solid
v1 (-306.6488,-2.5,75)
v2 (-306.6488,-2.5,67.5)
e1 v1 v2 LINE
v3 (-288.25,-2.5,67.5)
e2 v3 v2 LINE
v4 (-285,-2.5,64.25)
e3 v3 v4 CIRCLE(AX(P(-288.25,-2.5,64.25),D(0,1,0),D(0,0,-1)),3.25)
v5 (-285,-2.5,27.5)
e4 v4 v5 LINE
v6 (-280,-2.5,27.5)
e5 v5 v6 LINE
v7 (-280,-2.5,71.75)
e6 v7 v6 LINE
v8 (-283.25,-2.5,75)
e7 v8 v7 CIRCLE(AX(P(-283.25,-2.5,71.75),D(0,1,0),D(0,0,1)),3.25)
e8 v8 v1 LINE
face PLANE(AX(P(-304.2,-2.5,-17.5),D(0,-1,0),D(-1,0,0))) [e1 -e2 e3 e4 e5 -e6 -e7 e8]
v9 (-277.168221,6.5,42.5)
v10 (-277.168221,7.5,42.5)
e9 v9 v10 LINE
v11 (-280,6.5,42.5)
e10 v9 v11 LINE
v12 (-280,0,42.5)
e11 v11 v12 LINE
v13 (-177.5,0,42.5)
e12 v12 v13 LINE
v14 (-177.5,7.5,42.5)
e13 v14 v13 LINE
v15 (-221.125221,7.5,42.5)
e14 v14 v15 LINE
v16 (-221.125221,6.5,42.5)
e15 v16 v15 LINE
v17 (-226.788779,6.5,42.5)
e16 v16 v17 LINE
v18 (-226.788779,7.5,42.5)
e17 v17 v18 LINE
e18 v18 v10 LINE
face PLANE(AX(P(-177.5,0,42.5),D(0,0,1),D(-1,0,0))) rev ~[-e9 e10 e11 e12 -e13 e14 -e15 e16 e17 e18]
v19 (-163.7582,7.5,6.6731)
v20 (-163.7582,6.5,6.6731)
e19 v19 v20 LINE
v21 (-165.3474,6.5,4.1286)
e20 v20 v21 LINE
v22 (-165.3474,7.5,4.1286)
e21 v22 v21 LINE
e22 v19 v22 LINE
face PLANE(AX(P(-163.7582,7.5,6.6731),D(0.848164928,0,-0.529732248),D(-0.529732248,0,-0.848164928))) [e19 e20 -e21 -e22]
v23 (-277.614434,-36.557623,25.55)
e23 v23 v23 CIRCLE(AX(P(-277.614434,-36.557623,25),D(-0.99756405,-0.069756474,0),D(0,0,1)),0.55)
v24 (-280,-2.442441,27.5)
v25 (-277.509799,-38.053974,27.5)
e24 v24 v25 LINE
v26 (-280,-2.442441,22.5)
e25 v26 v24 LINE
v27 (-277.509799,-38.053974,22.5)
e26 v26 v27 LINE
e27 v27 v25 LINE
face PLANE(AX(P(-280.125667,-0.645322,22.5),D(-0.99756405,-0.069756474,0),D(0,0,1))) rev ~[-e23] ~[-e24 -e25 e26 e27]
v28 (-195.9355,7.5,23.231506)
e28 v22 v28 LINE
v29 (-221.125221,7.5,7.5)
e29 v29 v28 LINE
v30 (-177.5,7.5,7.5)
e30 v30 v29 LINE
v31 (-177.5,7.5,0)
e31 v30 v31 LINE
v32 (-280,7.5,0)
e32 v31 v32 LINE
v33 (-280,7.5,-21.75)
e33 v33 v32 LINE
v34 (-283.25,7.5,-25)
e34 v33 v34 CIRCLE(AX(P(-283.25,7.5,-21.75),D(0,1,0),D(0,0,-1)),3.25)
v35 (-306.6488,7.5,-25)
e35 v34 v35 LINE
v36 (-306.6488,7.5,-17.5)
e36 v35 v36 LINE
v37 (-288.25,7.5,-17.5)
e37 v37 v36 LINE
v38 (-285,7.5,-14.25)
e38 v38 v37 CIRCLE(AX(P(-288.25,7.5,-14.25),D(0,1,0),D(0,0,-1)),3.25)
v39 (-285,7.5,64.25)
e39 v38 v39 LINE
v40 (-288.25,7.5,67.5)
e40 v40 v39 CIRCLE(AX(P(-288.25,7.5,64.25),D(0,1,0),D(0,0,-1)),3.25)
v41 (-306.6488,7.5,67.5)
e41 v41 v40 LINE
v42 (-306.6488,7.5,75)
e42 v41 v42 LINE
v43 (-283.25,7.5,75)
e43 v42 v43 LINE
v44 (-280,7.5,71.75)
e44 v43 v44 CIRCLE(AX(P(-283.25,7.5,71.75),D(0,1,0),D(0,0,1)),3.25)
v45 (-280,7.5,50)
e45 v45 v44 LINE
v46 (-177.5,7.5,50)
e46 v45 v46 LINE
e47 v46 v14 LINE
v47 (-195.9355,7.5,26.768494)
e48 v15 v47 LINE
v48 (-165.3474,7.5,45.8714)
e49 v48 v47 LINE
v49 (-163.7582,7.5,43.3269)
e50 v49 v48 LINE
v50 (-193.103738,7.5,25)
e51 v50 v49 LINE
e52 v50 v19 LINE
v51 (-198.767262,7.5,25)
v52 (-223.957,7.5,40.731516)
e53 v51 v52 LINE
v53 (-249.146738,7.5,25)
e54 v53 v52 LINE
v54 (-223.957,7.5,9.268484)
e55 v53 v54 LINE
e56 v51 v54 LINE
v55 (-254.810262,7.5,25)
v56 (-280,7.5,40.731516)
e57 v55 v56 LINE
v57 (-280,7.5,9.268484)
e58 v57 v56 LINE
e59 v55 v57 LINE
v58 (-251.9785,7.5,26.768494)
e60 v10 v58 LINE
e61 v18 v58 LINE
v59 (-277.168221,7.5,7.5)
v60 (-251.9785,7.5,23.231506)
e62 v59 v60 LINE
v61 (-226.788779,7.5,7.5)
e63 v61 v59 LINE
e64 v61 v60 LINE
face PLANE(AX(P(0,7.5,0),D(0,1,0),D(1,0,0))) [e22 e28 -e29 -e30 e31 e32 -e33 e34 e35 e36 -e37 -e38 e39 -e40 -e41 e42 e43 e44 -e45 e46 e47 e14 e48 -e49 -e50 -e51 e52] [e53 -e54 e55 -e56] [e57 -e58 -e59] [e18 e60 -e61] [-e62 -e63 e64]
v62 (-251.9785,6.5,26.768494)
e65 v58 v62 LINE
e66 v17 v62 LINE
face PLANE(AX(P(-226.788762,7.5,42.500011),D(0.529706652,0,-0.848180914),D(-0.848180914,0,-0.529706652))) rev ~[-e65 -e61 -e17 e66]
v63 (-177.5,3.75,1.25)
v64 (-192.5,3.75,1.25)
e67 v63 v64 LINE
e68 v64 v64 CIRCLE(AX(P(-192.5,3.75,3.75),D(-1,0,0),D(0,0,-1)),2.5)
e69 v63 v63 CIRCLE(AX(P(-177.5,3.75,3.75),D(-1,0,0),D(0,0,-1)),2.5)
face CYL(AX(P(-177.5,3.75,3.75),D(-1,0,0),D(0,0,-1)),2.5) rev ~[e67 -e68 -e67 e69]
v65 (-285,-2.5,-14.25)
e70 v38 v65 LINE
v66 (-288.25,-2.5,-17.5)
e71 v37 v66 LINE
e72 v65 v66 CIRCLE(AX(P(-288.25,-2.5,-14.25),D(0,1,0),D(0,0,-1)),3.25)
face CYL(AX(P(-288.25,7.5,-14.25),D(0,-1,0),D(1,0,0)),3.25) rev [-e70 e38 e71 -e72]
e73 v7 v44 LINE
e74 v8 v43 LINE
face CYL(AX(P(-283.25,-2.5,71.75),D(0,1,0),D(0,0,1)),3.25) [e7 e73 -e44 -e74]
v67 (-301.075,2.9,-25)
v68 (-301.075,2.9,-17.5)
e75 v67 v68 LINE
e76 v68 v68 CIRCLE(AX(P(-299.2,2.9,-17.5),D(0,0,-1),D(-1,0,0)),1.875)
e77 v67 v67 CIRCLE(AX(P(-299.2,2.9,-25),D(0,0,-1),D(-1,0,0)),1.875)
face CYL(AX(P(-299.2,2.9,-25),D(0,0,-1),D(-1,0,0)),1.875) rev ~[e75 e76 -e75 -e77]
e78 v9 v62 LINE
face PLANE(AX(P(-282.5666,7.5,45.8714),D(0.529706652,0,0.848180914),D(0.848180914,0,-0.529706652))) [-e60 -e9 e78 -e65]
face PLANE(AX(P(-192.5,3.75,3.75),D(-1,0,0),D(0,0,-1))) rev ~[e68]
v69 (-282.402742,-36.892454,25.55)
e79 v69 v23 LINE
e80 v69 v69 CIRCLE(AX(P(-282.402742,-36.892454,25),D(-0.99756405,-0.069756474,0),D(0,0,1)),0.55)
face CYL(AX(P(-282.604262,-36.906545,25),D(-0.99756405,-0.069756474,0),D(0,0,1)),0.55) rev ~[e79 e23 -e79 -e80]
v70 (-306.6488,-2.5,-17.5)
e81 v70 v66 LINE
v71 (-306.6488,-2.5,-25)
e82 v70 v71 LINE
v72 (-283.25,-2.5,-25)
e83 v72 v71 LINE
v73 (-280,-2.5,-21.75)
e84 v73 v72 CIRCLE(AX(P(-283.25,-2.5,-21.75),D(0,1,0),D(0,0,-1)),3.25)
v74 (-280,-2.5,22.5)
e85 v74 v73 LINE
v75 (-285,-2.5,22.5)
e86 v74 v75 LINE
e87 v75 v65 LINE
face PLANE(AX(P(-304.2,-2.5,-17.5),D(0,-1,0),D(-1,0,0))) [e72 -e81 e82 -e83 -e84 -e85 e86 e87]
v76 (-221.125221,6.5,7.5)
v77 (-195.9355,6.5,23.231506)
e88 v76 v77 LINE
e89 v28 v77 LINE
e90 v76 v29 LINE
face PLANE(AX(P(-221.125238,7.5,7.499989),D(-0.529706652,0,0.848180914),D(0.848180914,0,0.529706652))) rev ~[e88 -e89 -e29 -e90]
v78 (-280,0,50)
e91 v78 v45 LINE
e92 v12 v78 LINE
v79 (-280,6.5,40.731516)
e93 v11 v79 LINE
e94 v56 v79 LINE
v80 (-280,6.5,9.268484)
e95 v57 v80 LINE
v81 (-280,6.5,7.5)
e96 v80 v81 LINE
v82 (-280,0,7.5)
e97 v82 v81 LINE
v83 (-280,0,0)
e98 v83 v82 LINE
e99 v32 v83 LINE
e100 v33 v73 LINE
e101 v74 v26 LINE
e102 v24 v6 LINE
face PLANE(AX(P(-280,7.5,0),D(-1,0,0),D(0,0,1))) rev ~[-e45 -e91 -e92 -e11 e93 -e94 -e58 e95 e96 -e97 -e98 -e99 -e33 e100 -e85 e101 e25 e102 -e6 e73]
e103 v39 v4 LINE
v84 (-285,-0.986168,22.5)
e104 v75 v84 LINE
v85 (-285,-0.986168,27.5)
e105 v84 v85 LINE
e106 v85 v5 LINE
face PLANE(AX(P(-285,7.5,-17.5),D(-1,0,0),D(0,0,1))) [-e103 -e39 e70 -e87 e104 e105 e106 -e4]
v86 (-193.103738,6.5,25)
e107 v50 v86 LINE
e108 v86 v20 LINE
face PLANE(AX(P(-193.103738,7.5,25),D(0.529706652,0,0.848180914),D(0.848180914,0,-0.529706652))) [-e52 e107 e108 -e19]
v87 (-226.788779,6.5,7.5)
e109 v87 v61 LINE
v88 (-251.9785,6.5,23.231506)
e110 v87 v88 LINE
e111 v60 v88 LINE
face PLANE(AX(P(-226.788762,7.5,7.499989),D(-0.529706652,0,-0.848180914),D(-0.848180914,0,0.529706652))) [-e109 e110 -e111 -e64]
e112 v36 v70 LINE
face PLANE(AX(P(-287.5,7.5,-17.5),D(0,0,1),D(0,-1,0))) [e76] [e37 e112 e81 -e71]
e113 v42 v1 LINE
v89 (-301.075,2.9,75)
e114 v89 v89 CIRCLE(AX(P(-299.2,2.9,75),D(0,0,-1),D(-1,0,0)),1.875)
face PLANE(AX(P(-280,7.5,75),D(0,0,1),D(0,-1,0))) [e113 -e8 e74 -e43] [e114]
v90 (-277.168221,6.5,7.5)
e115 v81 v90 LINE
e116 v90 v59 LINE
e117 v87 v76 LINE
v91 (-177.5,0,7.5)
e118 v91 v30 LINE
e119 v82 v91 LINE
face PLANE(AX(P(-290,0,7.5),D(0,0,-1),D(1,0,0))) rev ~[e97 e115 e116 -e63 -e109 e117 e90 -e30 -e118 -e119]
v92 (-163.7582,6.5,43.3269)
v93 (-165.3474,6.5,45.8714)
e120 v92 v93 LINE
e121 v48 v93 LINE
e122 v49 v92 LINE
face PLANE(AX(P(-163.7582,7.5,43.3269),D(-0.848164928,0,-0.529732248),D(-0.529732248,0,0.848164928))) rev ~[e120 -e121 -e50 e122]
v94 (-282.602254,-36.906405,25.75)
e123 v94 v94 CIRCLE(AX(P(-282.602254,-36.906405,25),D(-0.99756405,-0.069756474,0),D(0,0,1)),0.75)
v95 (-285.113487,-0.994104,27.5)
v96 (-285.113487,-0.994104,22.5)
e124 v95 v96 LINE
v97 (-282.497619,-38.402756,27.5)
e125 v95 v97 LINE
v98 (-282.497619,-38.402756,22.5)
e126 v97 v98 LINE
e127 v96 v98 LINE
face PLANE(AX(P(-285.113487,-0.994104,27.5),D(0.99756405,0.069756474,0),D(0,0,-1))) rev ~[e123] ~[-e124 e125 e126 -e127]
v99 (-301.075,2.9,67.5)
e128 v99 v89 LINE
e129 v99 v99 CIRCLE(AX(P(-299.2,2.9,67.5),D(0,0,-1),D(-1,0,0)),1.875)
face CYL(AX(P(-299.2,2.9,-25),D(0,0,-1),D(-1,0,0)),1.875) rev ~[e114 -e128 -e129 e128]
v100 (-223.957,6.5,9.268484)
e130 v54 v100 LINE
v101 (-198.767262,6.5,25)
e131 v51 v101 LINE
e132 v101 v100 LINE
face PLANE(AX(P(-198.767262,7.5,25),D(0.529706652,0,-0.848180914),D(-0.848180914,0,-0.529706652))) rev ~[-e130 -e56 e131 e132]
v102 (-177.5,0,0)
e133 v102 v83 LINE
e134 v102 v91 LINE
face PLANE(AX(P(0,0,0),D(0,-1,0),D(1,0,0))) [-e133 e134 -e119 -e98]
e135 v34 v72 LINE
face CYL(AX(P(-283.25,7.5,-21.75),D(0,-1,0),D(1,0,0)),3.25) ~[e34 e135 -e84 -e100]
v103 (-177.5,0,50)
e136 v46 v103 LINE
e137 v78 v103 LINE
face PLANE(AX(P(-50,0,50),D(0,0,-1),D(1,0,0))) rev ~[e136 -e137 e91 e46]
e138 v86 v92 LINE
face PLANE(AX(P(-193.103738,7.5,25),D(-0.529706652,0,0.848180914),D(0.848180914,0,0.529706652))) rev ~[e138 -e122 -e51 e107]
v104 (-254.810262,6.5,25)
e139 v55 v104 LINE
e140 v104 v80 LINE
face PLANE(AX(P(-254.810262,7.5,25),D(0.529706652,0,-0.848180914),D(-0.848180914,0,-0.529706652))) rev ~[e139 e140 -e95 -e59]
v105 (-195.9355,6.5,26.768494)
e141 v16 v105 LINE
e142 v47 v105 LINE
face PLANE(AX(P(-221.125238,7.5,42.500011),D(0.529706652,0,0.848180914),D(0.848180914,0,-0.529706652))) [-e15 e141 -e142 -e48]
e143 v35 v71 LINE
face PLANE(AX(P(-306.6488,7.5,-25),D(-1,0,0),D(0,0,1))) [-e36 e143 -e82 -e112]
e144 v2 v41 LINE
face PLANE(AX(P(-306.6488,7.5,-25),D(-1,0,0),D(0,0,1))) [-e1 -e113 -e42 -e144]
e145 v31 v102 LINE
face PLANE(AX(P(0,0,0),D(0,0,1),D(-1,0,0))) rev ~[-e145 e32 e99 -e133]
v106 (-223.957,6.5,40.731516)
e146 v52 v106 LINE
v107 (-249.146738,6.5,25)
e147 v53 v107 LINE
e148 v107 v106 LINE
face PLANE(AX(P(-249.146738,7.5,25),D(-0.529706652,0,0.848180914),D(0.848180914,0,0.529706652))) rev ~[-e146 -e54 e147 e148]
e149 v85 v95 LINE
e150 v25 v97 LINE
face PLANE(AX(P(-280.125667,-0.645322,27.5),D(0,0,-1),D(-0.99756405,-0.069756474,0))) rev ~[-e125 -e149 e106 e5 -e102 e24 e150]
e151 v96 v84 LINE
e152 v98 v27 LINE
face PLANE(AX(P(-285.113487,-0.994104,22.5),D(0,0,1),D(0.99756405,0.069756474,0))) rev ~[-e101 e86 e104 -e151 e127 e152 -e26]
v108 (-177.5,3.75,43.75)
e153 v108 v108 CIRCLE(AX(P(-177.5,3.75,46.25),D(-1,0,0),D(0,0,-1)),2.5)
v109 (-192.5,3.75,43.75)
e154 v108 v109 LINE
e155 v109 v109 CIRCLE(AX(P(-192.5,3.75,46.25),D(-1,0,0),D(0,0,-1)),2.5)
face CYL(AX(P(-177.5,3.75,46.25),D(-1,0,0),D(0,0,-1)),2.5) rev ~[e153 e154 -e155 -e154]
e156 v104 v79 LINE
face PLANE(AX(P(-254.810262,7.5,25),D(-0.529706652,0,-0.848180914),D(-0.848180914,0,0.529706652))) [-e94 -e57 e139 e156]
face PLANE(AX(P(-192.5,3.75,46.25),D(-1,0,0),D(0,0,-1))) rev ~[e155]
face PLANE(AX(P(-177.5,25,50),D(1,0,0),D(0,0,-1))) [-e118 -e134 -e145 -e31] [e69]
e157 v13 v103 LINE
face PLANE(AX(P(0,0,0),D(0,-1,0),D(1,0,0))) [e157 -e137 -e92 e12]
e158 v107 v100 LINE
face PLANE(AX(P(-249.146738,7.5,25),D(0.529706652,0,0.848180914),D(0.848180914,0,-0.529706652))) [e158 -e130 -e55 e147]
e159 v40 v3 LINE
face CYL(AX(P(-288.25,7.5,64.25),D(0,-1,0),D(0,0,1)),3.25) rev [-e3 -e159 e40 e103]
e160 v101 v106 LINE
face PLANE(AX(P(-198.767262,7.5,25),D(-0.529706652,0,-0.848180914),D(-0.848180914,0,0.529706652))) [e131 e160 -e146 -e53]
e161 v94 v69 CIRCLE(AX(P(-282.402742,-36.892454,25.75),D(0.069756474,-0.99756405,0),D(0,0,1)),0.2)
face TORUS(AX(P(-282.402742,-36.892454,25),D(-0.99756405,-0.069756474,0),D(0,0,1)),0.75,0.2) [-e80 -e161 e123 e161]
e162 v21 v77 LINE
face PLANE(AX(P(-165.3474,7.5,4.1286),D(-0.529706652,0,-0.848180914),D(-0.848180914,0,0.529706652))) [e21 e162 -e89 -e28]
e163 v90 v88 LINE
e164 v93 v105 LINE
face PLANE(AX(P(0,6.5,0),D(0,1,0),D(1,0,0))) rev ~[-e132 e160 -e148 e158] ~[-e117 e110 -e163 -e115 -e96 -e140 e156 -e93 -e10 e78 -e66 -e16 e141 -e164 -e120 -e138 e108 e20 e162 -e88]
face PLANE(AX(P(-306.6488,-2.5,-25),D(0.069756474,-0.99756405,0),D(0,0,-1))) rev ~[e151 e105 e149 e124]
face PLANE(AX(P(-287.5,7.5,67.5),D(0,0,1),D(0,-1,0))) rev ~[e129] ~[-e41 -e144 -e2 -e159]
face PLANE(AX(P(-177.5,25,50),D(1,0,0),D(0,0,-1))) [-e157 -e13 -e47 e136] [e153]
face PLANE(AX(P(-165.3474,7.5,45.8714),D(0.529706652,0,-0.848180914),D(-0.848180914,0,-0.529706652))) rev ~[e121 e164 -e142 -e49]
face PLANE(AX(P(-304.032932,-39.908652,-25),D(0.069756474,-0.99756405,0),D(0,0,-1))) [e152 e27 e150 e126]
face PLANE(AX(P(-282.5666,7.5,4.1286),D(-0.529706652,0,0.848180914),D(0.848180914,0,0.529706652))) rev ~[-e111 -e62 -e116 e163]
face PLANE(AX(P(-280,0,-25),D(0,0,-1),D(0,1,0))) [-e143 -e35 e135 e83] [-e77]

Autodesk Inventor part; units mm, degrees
ref_plane "YZ Plane" through (0, 0, 0) normal (1, 0, 0) x (0, 1, 0)
ref_plane "XZ Plane" through (0, 0, 0) normal (0, 1, 0) x (-1, 0, 0)
ref_plane "XY Plane" through (0, 0, 0) normal (0, 0, 1) x (1, 0, 0)
sketch "Sketch1" plane through (0, 0, 0) normal (0, 1, 0) x (-1, 0, 0)
  line L0 (0, 0) -> (50, 0)
  line L1 (50, 0) -> (50, 50)
  line L2 (50, 50) -> (0, 50)
  line L3 (0, 50) -> (0, 0)
  line L4 (50, 50) -> (290, 50)
  line L5 (290, 50) -> (290, 42.5)
  line L6 (290, 42.5) -> (50, 42.5)
  line L7 (50, 42.5) -> (50, 50)
  line L8 (50, 0) -> (290, 0)
  line L9 (290, 0) -> (290, 7.5)
  line L10 (290, 7.5) -> (50, 7.5)
  line L11 (50, 7.5) -> (50, 0)
  dimension "d0" = 50
  dimension "d1" = 50
  dimension "d2" = 240
  dimension "d3" = 7.5
  dimension "d4" = 7.5
extrude "Extrusion1" add sketch "Sketch1" along normal blind 7.5
sketch "Sketch2" plane through (0, 7.5, 0) normal (0, 1, 0) x (1, 0, 0)
  line L0 (0, -50) -> (0, 0) projected
  point P0 (0, -25)
hole "Hole1" at (0, 7.5, 25) direction (0, -1, 0) diameter 6.35 end through all
sketch "Sketch3" plane through (0, 7.5, 0) normal (0, 1, 0) x (1, 0, 0)
  line L0 (-3.175, -50) -> (-3.175, 0) construction
  line L1 (-3.175, -50) -> (-28.175, -50) construction
  line L2 (-28.175, -50) -> (-28.175, 0) construction
  line L3 (-28.175, 0) -> (-3.175, 0) construction
  point P0 (0, 0)
  point P1 (-7.175, -4)
  point P2 (-24.175, -46)
  dimension "d14" = 25
hole "Hole2" at (-7.175, 7.5, 4) at (-24.175, 7.5, 46) direction (0, -1, 0) diameter 3.3 end through all
sketch "Sketch4" plane through (0, 7.5, 0) normal (0, 1, 0) x (1, 0, 0)
  arc A0 (0, -21.825) -> (0, -28.175) centre (0, -25) ccw construction
  line L0 (-3.175, -25) -> (-28.175, -25) construction
  line L1 (-3.175, -25) -> (21.825, -25) construction
  line L2 (-290, -50) -> (0, -50) construction
  line L3 (-28.175, -50) -> (-28.175, 0) construction
  line L4 (-50, -7.5) -> (-50, -42.5) construction
  line L5 (-50, -42.5) -> (-45, -42.5) construction
  line L6 (-45, -42.5) -> (-45, -32.5) construction
  line L7 (-45, -32.5) -> (-50, -32.5) construction
  line L8 (-50, -32.5) -> (-50, -42.5) construction
  line L9 (-45, -32.5) -> (-40, -32.5)
  line L10 (-40, -32.5) -> (-40, -42.5)
  line L11 (-40, -42.5) -> (-45, -42.5)
  line L12 (-45, -42.5) -> (-45, -32.5)
  point P0 (0, 0)
  dimension "d22" = 25
  dimension "d23" = 180
  dimension "d24" = 5
  dimension "d25" = 10
  dimension "d26" = 5
extrude "Extrusion2" add sketch "Sketch4" along normal blind 17.5
sketch "Sketch5" plane through (0, 7.5, 0) normal (0, 1, 0) x (1, 0, 0)
  line L0 (-85, -7.5) -> (-85, -42.5)
  line L1 (-127.5, -7.5) -> (-127.5, -42.5)
  line L2 (-92.5, -42.5) -> (-92.5, -7.5)
  line L3 (-135, -7.5) -> (-170, -7.5) construction
  line L4 (-170, -7.5) -> (-170, -42.5) construction
  line L5 (-170, -42.5) -> (-135, -42.5) construction
  line L6 (-135, -42.5) -> (-135, -7.5) construction
  line L7 (-177.5, -7.5) -> (-212.5, -7.5) construction
  line L8 (-212.5, -7.5) -> (-212.5, -42.5) construction
  line L9 (-212.5, -42.5) -> (-177.5, -42.5) construction
  line L10 (-177.5, -42.5) -> (-177.5, -7.5) construction
  line L11 (-220, -7.5) -> (-255, -7.5) construction
  line L12 (-255, -7.5) -> (-255, -42.5) construction
  line L13 (-255, -42.5) -> (-220, -42.5) construction
  line L14 (-220, -42.5) -> (-220, -7.5) construction
  line L15 (-85, -7.5) -> (-92.5, -7.5) construction
  line L16 (-92.5, -7.5) -> (-92.5, -42.5) construction
  line L17 (-92.5, -42.5) -> (-85, -42.5) construction
  line L18 (-85, -42.5) -> (-85, -7.5) construction
  line L19 (-127.5, -7.5) -> (-135, -7.5) construction
  line L20 (-135, -7.5) -> (-135, -42.5) construction
  line L21 (-135, -42.5) -> (-127.5, -42.5) construction
  line L22 (-127.5, -42.5) -> (-127.5, -7.5) construction
  line L23 (-170, -7.5) -> (-177.5, -7.5) construction
  line L24 (-177.5, -7.5) -> (-177.5, -42.5) construction
  line L25 (-177.5, -42.5) -> (-170, -42.5) construction
  line L26 (-170, -42.5) -> (-170, -7.5) construction
  line L27 (-212.5, -7.5) -> (-220, -7.5) construction
  line L28 (-220, -7.5) -> (-220, -42.5) construction
  line L29 (-220, -42.5) -> (-212.5, -42.5) construction
  line L30 (-212.5, -42.5) -> (-212.5, -7.5) construction
  line L31 (-220, -7.5) -> (-212.5, -7.5)
  line L32 (-212.5, -7.5) -> (-212.5, -42.5)
  line L33 (-212.5, -42.5) -> (-220, -42.5)
  line L34 (-220, -42.5) -> (-220, -7.5)
  line L35 (-177.5, -7.5) -> (-170, -7.5)
  line L36 (-170, -7.5) -> (-170, -42.5)
  line L37 (-170, -42.5) -> (-177.5, -42.5)
  line L38 (-177.5, -42.5) -> (-177.5, -7.5)
  line L39 (-135, -7.5) -> (-127.5, -7.5)
  line L40 (-127.5, -7.5) -> (-127.5, -42.5)
  line L41 (-127.5, -42.5) -> (-135, -42.5)
  line L42 (-135, -42.5) -> (-135, -7.5)
  line L43 (-92.5, -7.5) -> (-85, -7.5)
  line L44 (-85, -7.5) -> (-85, -42.5)
  line L45 (-85, -42.5) -> (-92.5, -42.5)
  line L46 (-92.5, -42.5) -> (-92.5, -7.5)
  point P0 (0, 0)
  point P1 (-50, -7.5)
  dimension "d30" = 35
  dimension "d31" = 35
  dimension "d32" = 35
  dimension "d33" = 35
  dimension "d34" = 35
  dimension "d35" = 35
extrude "Extrusion3" add sketch "Sketch5" against normal blind 2
sketch "Sketch6" plane through (0, 7.5, 0) normal (0, 1, 0) x (1, 0, 0)
  line L0 (-290, 0) -> (-290, -7.5) projected
  line L1 (-290, -50) -> (0, -50) projected
  line L2 (-290, 0) -> (-280, 0)
  line L3 (-280, 0) -> (-280, -50)
  line L4 (-280, -50) -> (-290, -50)
  line L5 (-290, -50) -> (-290, 0)
  point P0 (0, 0)
  dimension "d38" = 10
extrude "Extrusion4" cut sketch "Sketch6" against normal blind 7.5
sketch "Sketch7" plane through (-280, 7.5, 0) normal (-1, 0, 0) x (0, 0, 1)
  point P0 (0, -7.5)
sketch "Sketch8" plane through (-280, 7.5, 0) normal (-1, 0, 0) x (0, 0, 1)
  line L0 (-25, 0) -> (75, 0)
  line L1 (75, 0) -> (75, -7.5)
  line L2 (75, -7.5) -> (-25, -7.5)
  line L3 (-25, -7.5) -> (-25, 0)
  line L4 (-25, 0) -> (75, 0)
  line L5 (75, 0) -> (75, -10)
  line L6 (75, -10) -> (-25, -10)
  line L7 (-25, -10) -> (-25, 0)
  point P0 (0, -7.5)
  dimension "d41" = 100
  dimension "d42" = 10
extrude "Extrusion5" add sketch "Sketch8" along normal blind 7.5
sketch "Sketch9" plane through (-287.5, 7.5, 0) normal (-1, 0, 0) x (0, 0, 1)
  line L0 (75, 0) -> (-25, 0) projected
  line L1 (-25, -10) -> (75, -10) projected
  line L2 (-25, 0) -> (-17.5, 0)
  line L3 (-17.5, 0) -> (-17.5, -10)
  line L4 (-17.5, -10) -> (-25, -10)
  line L5 (-25, -10) -> (-25, 0)
  line L6 (75, 0) -> (67.5, 0)
  line L7 (67.5, 0) -> (67.5, -10)
  line L8 (67.5, -10) -> (75, -10)
  line L9 (75, -10) -> (75, 0)
  point P0 (0, -7.5)
  dimension "d45" = 7.5
  dimension "d46" = 7.5
extrude "Extrusion6" add sketch "Sketch9" along normal blind 25 contours L9 L1 L7 L0 | L3 L1 L5 L0
sketch "Sketch10" plane through (-287.5, -2.5, -17.5) normal (0, 0, 1) x (1, 0, 0)
  line L0 (0, 0) -> (-25, 0) construction
  line L1 (0, 0) -> (-3, 0) construction
  line L2 (-3, 0) -> (-6.2, 0)
  line L3 (-6.2, 0) -> (-6.2, 2.1)
  line L4 (-6.2, 2.1) -> (-3, 2.1)
  line L5 (-3, 2.1) -> (-3, 0)
  line L6 (-6.2, 2.1) -> (-11.7, 2.1) construction
  line L7 (-11.7, 2.1) -> (-11.7, 5.4) construction
  point P0 (287.5, 2.5)
  dimension "d49" = 3
  dimension "d50" = 3.2
  dimension "d51" = 2.1
  dimension "d52" = 5.5
  dimension "d53" = 3.3
extrude "Extrusion7" add sketch "Sketch10" along normal blind 92.5
sketch "Sketch11" plane through (-287.5, -2.5, -17.5) normal (0, 0, 1) x (1, 0, 0)
  line L0 (-6.2, 2.1) -> (-3, 2.1) construction
  line L1 (-6.2, 2.1) -> (-11.7, 2.1) construction
  line L2 (-11.7, 2.1) -> (-11.7, 5.4) construction
  circle A0 centre (-11.7, 5.4) radius 2.125
  point P0 (287.5, 2.5)
  dimension "d56" = 5.5
  dimension "d57" = 3.3
  dimension "d58" = 4.25
extrude "Extrusion8" cut sketch "Sketch11" along normal mid plane 241
sketch "Sketch12" plane through (-287.5, -2.5, -17.5) normal (0, 0, 1) x (1, 0, 0)
  circle A0 centre (-11.7, 5.4) radius 2.125 construction
  line L0 (-11.7, 5.4) -> (-11.7, 0.96) construction
  line L1 (-11.7, 0.96) -> (-16.7, 0.96) construction
  line L2 (-6.2, 0) -> (-25, 0) projected
  line L3 (-16.7, 0.96) -> (-19.2, 0.96)
  line L4 (-19.2, 0.96) -> (-19.2, 0)
  line L5 (-19.2, 0) -> (-16.7, 0)
  line L6 (-16.7, 0) -> (-16.7, 0.96)
  point P0 (287.5, 2.5)
  dimension "d61" = 4.44
  dimension "d62" = 5
  dimension "d63" = 2.5
extrude "Extrusion9" add sketch "Sketch12" along normal blind 91.25
sketch "Sketch13" plane through (-293.7, -0.4, -17.5) normal (0, 1, 0) x (1, 0, 0)
  line L0 (3.2, 0) -> (3.2, -85) construction
  line L1 (3.2, 0) -> (3.2, -30) construction
  line L2 (0, 0) -> (0, -85) construction
  line L3 (3.2, -30) -> (0, -30) construction
  line L4 (0, -30) -> (0, -36.35) construction
  line L5 (0, -36.35) -> (3.2, -36.35) construction
  line L6 (3.2, -36.35) -> (3.2, -30) construction
  line L7 (0, -30) -> (3.2, -30)
  line L8 (3.2, -30) -> (3.2, -36.35)
  line L9 (3.2, -36.35) -> (0, -36.35)
  line L10 (0, -36.35) -> (0, -30)
  point P0 (293.7, -17.5)
  dimension "d66" = 30
  dimension "d67" = 6.35
extrude "Extrusion10" add sketch "Sketch13" along normal blind 3.8
sketch "Sketch14" plane through (0, 7.5, 0) normal (0, 1, 0) x (1, 0, 0)
  line L0 (-287.5, 17.5) -> (-287.5, -67.5) projected
  line L1 (-287.5, 17.5) -> (-285, 17.5)
  line L2 (-285, 17.5) -> (-285, -67.5)
  line L3 (-285, -67.5) -> (-287.5, -67.5)
  line L4 (-287.5, -67.5) -> (-287.5, 17.5)
  point P0 (0, 0)
  dimension "d70" = 2.5
extrude "Extrusion11" cut sketch "Sketch14" against normal blind 14.55
sketch "Sketch15" plane through (0, 7.5, 0) normal (0, 1, 0) x (1, 0, 0)
  line L0 (-312.5, 17.5) -> (-312.5, 25) projected
  line L1 (-280, -75) -> (-312.5, -75) projected
  line L2 (-312.5, 25) -> (-306.6488, 25)
  line L3 (-306.6488, 25) -> (-306.6488, -75)
  line L4 (-306.6488, -75) -> (-312.5, -75)
  line L5 (-312.5, -75) -> (-312.5, 25)
  point P0 (0, 0)
extrude "Extrusion12" cut sketch "Sketch15" against normal blind 14.55
fillet "Fillet1" radius 0.1 1 edges at (-301.325, 2.9, -17.5)
fillet "Fillet2" radius 0.1 1 edges at (-301.325, 2.9, 67.5)
fillet "Fillet3" radius 3.25 1 edges at (-280, 2.5, 75)
fillet "Fillet4" radius 3.25 1 edges at (-285, 2.5, 67.5)
fillet "Fillet5" radius 3.25 1 edges at (-280, 2.5, -25)
fillet "Fillet6" radius 3.25 1 edges at (-285, 2.5, -17.5)
sketch "Sketch16" plane through (0, 7.5, 0) normal (0, 1, 0) x (1, 0, 0)
  line L0 (-220, -42.5) -> (-220, -7.5) construction
  line L1 (-220, -42.5) -> (-280, -42.5) construction
  line L2 (-220, -7.5) -> (-255, -7.5) construction
  line L3 (-255, -7.5) -> (-255, -42.5) construction
  line L4 (-255, -42.5) -> (-220, -42.5) construction
  line L5 (-220, -42.5) -> (-220, -7.5) construction
  line L6 (-280, -7.5) -> (-280, 0) projected
  line L7 (-280, -7.5) -> (-270, -7.5)
  line L8 (-270, -7.5) -> (-270, -42.5)
  line L9 (-270, -42.5) -> (-280, -42.5)
  line L10 (-280, -42.5) -> (-280, -7.5)
  point P0 (0, 0)
  dimension "d81" = 35
  dimension "d82" = 10
extrude "Extrusion13" add sketch "Sketch16" against normal blind 2
sketch "Sketch17" plane through (0, 7.5, 0) normal (0, 1, 0) x (1, 0, 0)
  point P0 (0, 0)
sketch "Sketch18" plane through (0, 7.5, 0) normal (0, 1, 0) x (1, 0, 0)
  line L0 (-270, -7.5) -> (-270, -42.5) construction
  line L1 (-285, -64.25) -> (-285, 14.25) construction
  line L2 (-280, -7.5) -> (-280, 0) construction
  line L3 (-270, -7.5) -> (-280, -7.5) construction
  line L4 (-275, -7.5) -> (-275, -42.5) construction
  line L5 (-50, -42.5) -> (-280, -42.5) construction
  circle A0 centre (-275, -12.5) radius 1.8 construction
  circle A1 centre (-275, -37.5) radius 1.8 construction
  circle A2 centre (-275, -12.5) radius 1.8
  circle A3 centre (-275, -37.5) radius 1.8
  point P0 (0, 0)
  dimension "d85" = 3.6
  dimension "d86" = 3.6
hole "Hole3" at (-275, 7.5, 12.5) at (-275, 7.5, 37.5) direction (0, -1, 0) diameter 3.3 depth 15 tip angle 118
sketch "Sketch19" plane through (0, 7.5, 0) normal (0, 1, 0) x (1, 0, 0)
  circle A0 centre (-275, -12.5) radius 1.65 construction
  line L0 (-275, -12.5) -> (-212.5, -12.5) construction
  line L1 (-212.5, -7.5) -> (-212.5, -42.5) construction
  circle A1 centre (-275, -37.5) radius 1.65 construction
  line L2 (-275, -37.5) -> (-212.5, -37.5) construction
  line L3 (-220, -42.5) -> (-220, -7.5) construction
  line L4 (-220, -12.5) -> (-212.5, -12.5) construction
  line L5 (-216.25, -12.5) -> (-216.25, -37.5) construction
  point P0 (0, 0)
hole "Hole4" at (-216.25, 7.5, 12.5) at (-216.25, 7.5, 37.5) direction (0, -1, 0) diameter 3.3 depth 15 tip angle 118
sketch "Sketch20" plane through (-45, 7.5, 32.5) normal (-1, 0, 0) x (0, 0, 1)
  line L0 (10, 17.5) -> (0, 17.5) construction
  line L1 (5, 17.5) -> (5, -0.1335) construction
  line L2 (10, 0) -> (10, 17.5) construction
  line L3 (10, 12.5) -> (5, 12.5) construction
  circle A0 centre (5, 12.5) radius 3
  point P0 (-32.5, -7.5)
  dimension "d101" = 6
extrude "Extrusion14" cut sketch "Sketch20" against normal blind 20
sketch "Sketch21" plane through (0, 7.5, 0) normal (0, 1, 0) x (1, 0, 0)
  line L0 (-306.6488, 17.5) -> (-306.6488, -67.5) projected
  line L1 (-306.6488, 17.5) -> (-288.25, 17.5) projected
  line L2 (-306.6488, -67.5) -> (-288.25, -67.5)
  line L3 (-288.25, -67.5) -> (-288.25, 17.5)
  line L4 (-288.25, 17.5) -> (-306.6488, 17.5)
  line L5 (-306.6488, 17.5) -> (-306.6488, -67.5)
  point P0 (0, 0)
extrude "Extrusion15" cut sketch "Sketch21" against normal blind 10
sketch "Sketch22" plane through (0, 7.5, 0) normal (0, 1, 0) x (1, 0, 0)
  line L0 (-280, -50) -> (0, -50) projected
  line L1 (0, 0) -> (-280, 0) projected
  line L2 (-280, -50) -> (-270.5687, -50)
  line L3 (-270.5687, -50) -> (-270.5687, 0)
  line L4 (-270.5687, 0) -> (-280, 0)
  line L5 (-280, 0) -> (-280, -50)
  line L6 (-50, -42.5) -> (-280, -42.5) projected
  line L7 (-219.3019, -42.5) -> (-213.3073, -42.5)
  line L8 (-213.3073, -42.5) -> (-213.3073, -8.284)
  line L9 (-213.3073, -8.284) -> (-219.3019, -8.284)
  line L10 (-219.3019, -8.284) -> (-219.3019, -42.5)
extrude "Extrusion16" add sketch "Sketch22" against normal blind 2
sketch "Sketch23" plane through (-306.6488, -2.5, -25) normal (0, 0, -1) x (-1, 0, 0)
  circle A0 centre (-7.4488, 5.4) radius 2.125 projected
  circle A1 centre (-7.4488, 5.4) radius 2
  circle A2 centre (-7.4488, 5.4) radius 2.4429
  point P0 (-306.6488, 2.5)
  dimension "d108" = 4
extrude "Extrusion17" add sketch "Sketch23" against normal blind 100 contours A0 | A2
sketch "Sketch24" plane through (0, 7.5, 0) normal (0, 1, 0) x (1, 0, 0)
  line L0 (-288.25, -67.5) -> (-306.6488, -67.5) projected
  arc A0 (-285, 14.25) -> (-288.25, 17.5) centre (-288.25, 14.25) ccw projected
  line L1 (-306.6488, -67.5) -> (-288.25, -67.5)
  line L2 (-288.25, -67.5) -> (-288.25, 17.5)
  line L3 (-288.25, 17.5) -> (-306.6488, 17.5)
  line L4 (-306.6488, 17.5) -> (-306.6488, -67.5)
  point P0 (0, 0)
extrude "Extrusion18" cut sketch "Sketch24" against normal blind 100
sketch "Sketch25" plane through (0, 7.5, 0) normal (0, 1, 0) x (1, 0, 0)
  line L0 (-50, -42.5) -> (-280, -42.5) projected
  line L1 (-280, -7.5) -> (-50, -7.5) projected
  line L2 (-50, -42.5) -> (-55, -42.5)
  line L3 (-55, -42.5) -> (-55, -7.5)
  line L4 (-55, -7.5) -> (-50, -7.5)
  line L5 (-50, -7.5) -> (-50, -42.5)
  point P0 (0, 0)
  dimension "d113" = 5
extrude "Extrusion19" add sketch "Sketch25" against normal blind 2
sketch "Sketch26" plane through (0, 7.5, 0) normal (0, 1, 0) x (1, 0, 0)
  line L0 (-55, -42.5) -> (-85, -42.5) construction
  line L1 (-55, -42.5) -> (-50, -42.5) construction
  line L2 (-55, -42.5) -> (-50, -42.5) construction
  line L3 (-50, -42.5) -> (-50, -7.5) construction
  line L4 (-50, -42.5) -> (-50, -7.5) construction
  circle A0 centre (-50, -37.5) radius 1.65 construction
  circle A1 centre (-50, -12.5) radius 1.65 construction
  circle A2 centre (-50, -37.5) radius 1.65
  circle A3 centre (-50, -12.5) radius 1.65
  line L5 (-50, -37.5) -> (-92.5, -37.5) construction
  line L6 (-92.5, -42.5) -> (-92.5, -7.5) construction
  line L7 (-50, -12.5) -> (-92.5, -12.5) construction
  line L8 (-92.5, -37.5) -> (-85, -37.5) construction
  line L9 (-85, -7.5) -> (-85, -42.5) construction
  line L10 (-88.75, -37.5) -> (-88.75, -12.5) construction
  circle A4 centre (-88.75, -37.5) radius 1.65
  circle A5 centre (-88.75, -12.5) radius 1.65
  point P0 (0, 0)
  dimension "d116" = 3.3
  dimension "d117" = 3.3
  dimension "d118" = 3.3
  dimension "d119" = 3.3
extrude "Extrusion20" cut sketch "Sketch26" against normal blind 2
sketch "Sketch27" plane through (0, 5.5, 0) normal (0, -1, 0) x (1, 0, 0)
  line L0 (-50, 7.5) -> (-55, 7.5) projected
  line L1 (-55, 7.5) -> (-46.6169, 7.5)
  line L2 (-46.6169, 7.5) -> (-46.6169, 42.5)
  line L3 (-46.6169, 42.5) -> (-55, 42.5)
  line L4 (-55, 42.5) -> (-55, 7.5)
  point P0 (0, 0)
extrude "Extrusion21" add sketch "Sketch27" along normal blind 5.5
sketch "Sketch28" plane through (0, 7.5, 0) normal (0, 1, 0) x (1, 0, 0)
  circle A0 centre (-50, -12.5) radius 1.65 projected
  circle A1 centre (-50, -37.5) radius 1.65 projected
  point P0 (0, 0)
hole "Hole5" at (-50, 7.5, 12.5) at (-50, 7.5, 37.5) direction (0, -1, 0) diameter 3.3 depth 8 tip angle 118
sketch "Sketch29" plane through (0, 7.5, 0) normal (0, 1, 0) x (1, 0, 0)
  circle A0 centre (-7.175, -4) radius 1.65 construction
  circle A1 centre (-24.175, -46) radius 1.65 construction
  line L0 (-7.175, -4) -> (-24.175, -46) construction
  line L1 (-7.175, -4) -> (-7.175, -46) construction
  line L2 (-7.175, -46) -> (-24.175, -46) construction
  line L3 (-7.175, -25) -> (-25.825, -25) construction
  line L4 (-25.825, -25) -> (-25.825, -46) construction
  line L5 (-16.5, -25) -> (-25.825, -25) construction
  line L6 (-24.175, -46) -> (-24.175, -25) construction
  line L7 (-15.675, -46) -> (-15.675, -4) construction
  line L8 (-40, -32.5) -> (-40, -42.5) construction
  line L9 (-40, -42.5) -> (-24.175, -42.5) construction
  line L10 (-24.175, -42.5) -> (-24.175, -46) construction
  line L11 (-15.675, -25) -> (-15.675, -46) construction
  line L12 (-15.675, -46) -> (-15.675, -4) construction
  circle A2 centre (-15.675, -46) radius 1.65 construction
  circle A3 centre (-15.675, -46) radius 1.65
  circle A4 centre (-15.675, -4) radius 1.65
  point P0 (0, 0)
  dimension "d131" = 42
  dimension "d132" = 17
  dimension "d133" = 21
  dimension "d135" = 8.5
  dimension "d136" = 15.825
  dimension "d137" = 3.5
  dimension "d138" = 21
  dimension "d139" = 3.3
  dimension "d140" = 3.3
  dimension "d141" = 3.3
extrude "Extrusion22" cut sketch "Sketch29" against normal blind 10
sketch "Sketch30" plane through (0, 7.5, 0) normal (0, 1, 0) x (1, 0, 0)
  circle A0 centre (-7.175, -4) radius 1.65 projected
  circle A1 centre (-7.175, -4) radius 2.1021
  circle A2 centre (-24.175, -46) radius 1.65 projected
  circle A3 centre (-24.175, -46) radius 2.9173
  point P0 (0, 0)
extrude "Extrusion23" add sketch "Sketch30" against normal blind 7.5 contours A0 | A1 | A2 | A3
sketch "Sketch31" plane through (0, 25, 0) normal (0, 1, 0) x (1, 0, 0)
  line L0 (0, -50) -> (-177.5, -50)
  line L1 (-177.5, -50) -> (-177.5, 0)
  line L2 (-177.5, 0) -> (0, 0)
  line L3 (0, 0) -> (0, -50)
extrude "Extrusion24" cut sketch "Sketch31" against normal blind 100
sketch "Sketch32" plane through (-177.5, 0, 42.5) normal (1, 0, 0) x (0, 0, -1)
  line L0 (56.75, 7.5) -> (-21.75, 7.5) construction
  line L1 (0, 0) -> (-7.5, 0) construction
  line L2 (0, 7.5) -> (-7.5, 0) construction
  line L3 (-7.5, 0) -> (-7.5, 7.5) construction
  line L4 (0, 0) -> (0, 5.5) construction
  line L5 (-7.5, 7.5) -> (0, 0) construction
  line L6 (35, 5.5) -> (35, 0) construction
  line L7 (35, 0) -> (42.5, 7.5) construction
  line L8 (35, 7.5) -> (42.5, 0) construction
  point P0 (38.75, 3.75)
  point P1 (-3.75, 3.75)
hole "Hole6" at (-177.5, 3.75, 3.75) at (-177.5, 3.75, 46.25) direction (-1, 0, 0) diameter 5 depth 15
sketch "Sketch33" plane through (-306.6488, -2.5, -25) normal (0, 0, -1) x (-1, 0, 0)
  circle A0 centre (-7.4488, 5.4) radius 2 projected
  circle A1 centre (-7.4488, 5.4) radius 2
  circle A2 centre (-7.4488, 5.4) radius 1.875
  point P0 (-306.6488, 2.5)
  dimension "d155" = 3.75
extrude "Extrusion25" add sketch "Sketch33" against normal blind 100
sketch "Sketch34" plane through (0, 7.5, 0) normal (0, 1, 0) x (1, 0, 0)
  line L0 (-288.25, -67.5) -> (-306.6488, -67.5) projected
  line L1 (-306.6488, 17.5) -> (-288.25, 17.5) projected
  line L2 (-288.25, -67.5) -> (-306.6488, -67.5)
  line L3 (-306.6488, -67.5) -> (-306.6488, 17.5)
  line L4 (-306.6488, 17.5) -> (-288.25, 17.5)
  line L5 (-288.25, 17.5) -> (-288.25, -67.5)
  point P0 (0, 0)
extrude "Extrusion26" cut sketch "Sketch34" against normal blind 100
sketch "Sketch35" plane through (-306.6488, 7.5, -25) normal (-1, 0, 0) x (0, 0, 1)
  line L0 (0, 0) -> (3.25, 0) projected
  line L1 (7.5, 0) -> (7.5, -10) projected
  line L2 (0, 0) -> (7.5, 0)
  line L3 (7.5, 0) -> (7.5, -10)
  line L4 (7.5, -10) -> (0, -10)
  line L5 (0, -10) -> (0, 0)
  point P0 (25, -7.5)
ref_plane "Work Plane1" through (-306.6488, -2.5, -25) normal (0.0698, -0.9976, 0) x (0, 0, -1)
sketch "Sketch36" plane through (-306.6488, -2.5, -25) normal (0.0698, -0.9976, 0) x (0, 0, -1)
  point P0 (-25, 306.0762)
sketch "Sketch37" plane through (-306.6488, -2.5, -25) normal (0.0698, -0.9976, 0) x (0, 0, -1)
  line L0 (-51.6055, 16.5999) -> (-51.6055, 26.5838) construction
  line L1 (-51.6055, 26.5838) -> (-48.3945, 26.5838) construction
  line L2 (-48.3945, 26.5838) -> (-48.3945, 16.5999) construction
  line L3 (-48.3945, 16.5999) -> (-51.6055, 16.5999) construction
  line L4 (-51.6055, 16.5999) -> (-48.3945, 26.5838) construction
  line L5 (-51.6055, 26.5838) -> (-48.3945, 16.5999) construction
  line L6 (-48.3945, 26.5838) -> (-51.6055, 21.596) construction
  line L7 (-89.25, 21.596) -> (-10.75, 21.596) construction
  line L8 (-48.3945, 21.5919) -> (-51.6055, 26.5838) construction
  line L9 (-52.5, 21.5879) -> (-47.5, 21.5879)
  line L10 (-47.5, 21.5879) -> (-47.5, 26.5879)
  line L11 (-47.5, 26.5879) -> (-52.5, 26.5879)
  line L12 (-52.5, 26.5879) -> (-52.5, 21.5879)
  line L13 (-52.5, 21.5879) -> (-47.5, 26.5879) construction
  line L14 (-47.5, 21.5879) -> (-52.5, 26.5879) construction
  point P0 (-25, 306.0762)
  point P1 (-50, 21.5919)
  point P2 (-50, 24.0879)
  dimension "d161" = 5
  dimension "d162" = 5
extrude "Extrusion27" add sketch "Sketch37" along normal blind 37.5
sketch "Sketch38" plane through (-285.1135, -0.9941, 22.5) normal (-0.9976, -0.0698, 0) x (0, 0, 1)
  circle A0 centre (2.5, -36) radius 0.55
  point P0 (-22.5, -18.8968)
  dimension "d165" = 1.1
extrude "Extrusion28" cut sketch "Sketch38" against normal blind 37.5
fillet "Fillet7" radius 0.2 1 edges at (-282.6022, -36.9064, 24.45)
sketch "Sketch39" plane through (0, 5.5, 0) normal (0, -1, 0) x (1, 0, 0)
  line L0 (-280, 27.5) -> (-280, 22.5) construction
  line L1 (-280, 25) -> (-177.5, 25) construction
  line L2 (-177.5, 26.5) -> (-280, 26.5)
  line L3 (-280, 26.5) -> (-280, 23.5)
  line L4 (-280, 23.5) -> (-177.5, 23.5)
  line L5 (-177.5, 23.5) -> (-177.5, 26.5)
  line L6 (-177.5, 26.5) -> (-280, 23.5) construction
  line L7 (-280, 26.5) -> (-177.5, 23.5) construction
  point P0 (0, 0)
  point P1 (-228.75, 25)
  dimension "d169" = 3
extrude "Extrusion29" add sketch "Sketch39" along normal blind 5.5
sketch "Sketch40" plane through (0, 0, 0) normal (0, -1, 0) x (1, 0, 0)
  line L0 (-280, 7.5) -> (-177.5, 7.5) projected
  line L1 (-177.5, 42.5) -> (-280, 42.5) projected
  line L2 (-280, 7.5) -> (-177.5, 7.5)
  line L3 (-177.5, 7.5) -> (-177.5, 42.5)
  line L4 (-177.5, 42.5) -> (-280, 42.5)
  line L5 (-280, 42.5) -> (-280, 7.5)
  point P0 (0, 0)
extrude "Extrusion30" cut sketch "Sketch40" against normal blind 100
sketch "Sketch41" plane through (0, 7.5, 0) normal (0, 1, 0) x (1, 0, 0)
  line L0 (-280, -7.5) -> (-177.5, -7.5) construction
  line L1 (-177.5, -42.5) -> (-280, -42.5) construction
  line L2 (-280, -7.5) -> (-223.957, -7.5) construction
  line L3 (-223.957, -7.5) -> (-223.957, -42.5) construction
  line L4 (-223.957, -42.5) -> (-280, -42.5) construction
  line L5 (-280, -42.5) -> (-280, -7.5) construction
  line L6 (-223.957, -42.5) -> (-167.914, -42.5) construction
  line L7 (-167.914, -42.5) -> (-167.914, -7.5) construction
  line L8 (-167.914, -7.5) -> (-223.957, -7.5) construction
  line L9 (-223.957, -7.5) -> (-223.957, -42.5) construction
  line L10 (-167.914, -42.5) -> (-223.957, -7.5) construction
  line L11 (-280, -42.5) -> (-223.957, -7.5) construction
  line L12 (-223.957, -42.5) -> (-280, -7.5) construction
  line L13 (-223.957, -42.5) -> (-167.914, -7.5) construction
  line L14 (-226.5236, -4.1286) -> (-163.7582, -43.3269)
  line L15 (-163.7582, -43.3269) -> (-165.3474, -45.8714)
  line L16 (-165.3474, -45.8714) -> (-228.1128, -6.6731)
  line L17 (-228.1128, -6.6731) -> (-226.5236, -4.1286)
  line L18 (-226.5236, -4.1286) -> (-165.3474, -45.8714) construction
  line L19 (-163.7582, -43.3269) -> (-228.1128, -6.6731) construction
  line L20 (-226.5236, -45.8714) -> (-163.7582, -6.6731)
  line L21 (-163.7582, -6.6731) -> (-165.3474, -4.1286)
  line L22 (-165.3474, -4.1286) -> (-228.1128, -43.3269)
  line L23 (-228.1128, -43.3269) -> (-226.5236, -45.8714)
  line L24 (-226.5236, -45.8714) -> (-165.3474, -4.1286) construction
  line L25 (-163.7582, -6.6731) -> (-228.1128, -43.3269) construction
  line L26 (-282.5666, -45.8714) -> (-219.8012, -6.6731)
  line L27 (-219.8012, -6.6731) -> (-221.3904, -4.1286)
  line L28 (-221.3904, -4.1286) -> (-284.1558, -43.3269)
  line L29 (-284.1558, -43.3269) -> (-282.5666, -45.8714)
  line L30 (-282.5666, -45.8714) -> (-221.3904, -4.1286) construction
  line L31 (-219.8012, -6.6731) -> (-284.1558, -43.3269) construction
  line L32 (-282.5666, -4.1286) -> (-219.8012, -43.3269)
  line L33 (-219.8012, -43.3269) -> (-221.3904, -45.8714)
  line L34 (-221.3904, -45.8714) -> (-284.1558, -6.6731)
  line L35 (-284.1558, -6.6731) -> (-282.5666, -4.1286)
  line L36 (-282.5666, -4.1286) -> (-221.3904, -45.8714) construction
  line L37 (-219.8012, -43.3269) -> (-284.1558, -6.6731) construction
  point P0 (0, 0)
  point P1 (-195.9355, -25)
  point P2 (-195.9355, -25)
  point P3 (-251.9785, -25)
  dimension "d174" = 56.043
  dimension "d175" = 56.043
  dimension "d176" = 74
  dimension "d177" = 3
  dimension "d178" = 74
  dimension "d179" = 3
  dimension "d180" = 74
  dimension "d181" = 3
  dimension "d182" = 74
  dimension "d183" = 3
sketch "Sketch42" plane through (0, 7.5, 0) normal (0, 1, 0) x (1, 0, 0)
  point P0 (0, 0)
extrude "Extrusion31" add sketch "Sketch41" against normal blind 1 contours L14 L28 L16 L17 | L28 L27 L26 L14 | L14 L26 L16 L28 | L14 L22 L16 L26 | L16 L26 L32 L28 | L22 L21 L20 L14 | L14 L20 L16 L22 | L32 L26 L34 L28 | L28 L34 L35 L32 | L14 L15 L16 L20 | L16 L20 L32 L22 | L32 L22 L34 L26 | L34 L26 L29 L28 | L32 L20 L34 L22 | L32 L33 L34 L20 | L34 L20 L23 L22
sketch "Sketch43" plane through (0, 7.5, 0) normal (0, 1, 0) x (1, 0, 0)
  point P0 (0, 0)
properties part number "mtv_frame(BrakeInBack)1-13"
